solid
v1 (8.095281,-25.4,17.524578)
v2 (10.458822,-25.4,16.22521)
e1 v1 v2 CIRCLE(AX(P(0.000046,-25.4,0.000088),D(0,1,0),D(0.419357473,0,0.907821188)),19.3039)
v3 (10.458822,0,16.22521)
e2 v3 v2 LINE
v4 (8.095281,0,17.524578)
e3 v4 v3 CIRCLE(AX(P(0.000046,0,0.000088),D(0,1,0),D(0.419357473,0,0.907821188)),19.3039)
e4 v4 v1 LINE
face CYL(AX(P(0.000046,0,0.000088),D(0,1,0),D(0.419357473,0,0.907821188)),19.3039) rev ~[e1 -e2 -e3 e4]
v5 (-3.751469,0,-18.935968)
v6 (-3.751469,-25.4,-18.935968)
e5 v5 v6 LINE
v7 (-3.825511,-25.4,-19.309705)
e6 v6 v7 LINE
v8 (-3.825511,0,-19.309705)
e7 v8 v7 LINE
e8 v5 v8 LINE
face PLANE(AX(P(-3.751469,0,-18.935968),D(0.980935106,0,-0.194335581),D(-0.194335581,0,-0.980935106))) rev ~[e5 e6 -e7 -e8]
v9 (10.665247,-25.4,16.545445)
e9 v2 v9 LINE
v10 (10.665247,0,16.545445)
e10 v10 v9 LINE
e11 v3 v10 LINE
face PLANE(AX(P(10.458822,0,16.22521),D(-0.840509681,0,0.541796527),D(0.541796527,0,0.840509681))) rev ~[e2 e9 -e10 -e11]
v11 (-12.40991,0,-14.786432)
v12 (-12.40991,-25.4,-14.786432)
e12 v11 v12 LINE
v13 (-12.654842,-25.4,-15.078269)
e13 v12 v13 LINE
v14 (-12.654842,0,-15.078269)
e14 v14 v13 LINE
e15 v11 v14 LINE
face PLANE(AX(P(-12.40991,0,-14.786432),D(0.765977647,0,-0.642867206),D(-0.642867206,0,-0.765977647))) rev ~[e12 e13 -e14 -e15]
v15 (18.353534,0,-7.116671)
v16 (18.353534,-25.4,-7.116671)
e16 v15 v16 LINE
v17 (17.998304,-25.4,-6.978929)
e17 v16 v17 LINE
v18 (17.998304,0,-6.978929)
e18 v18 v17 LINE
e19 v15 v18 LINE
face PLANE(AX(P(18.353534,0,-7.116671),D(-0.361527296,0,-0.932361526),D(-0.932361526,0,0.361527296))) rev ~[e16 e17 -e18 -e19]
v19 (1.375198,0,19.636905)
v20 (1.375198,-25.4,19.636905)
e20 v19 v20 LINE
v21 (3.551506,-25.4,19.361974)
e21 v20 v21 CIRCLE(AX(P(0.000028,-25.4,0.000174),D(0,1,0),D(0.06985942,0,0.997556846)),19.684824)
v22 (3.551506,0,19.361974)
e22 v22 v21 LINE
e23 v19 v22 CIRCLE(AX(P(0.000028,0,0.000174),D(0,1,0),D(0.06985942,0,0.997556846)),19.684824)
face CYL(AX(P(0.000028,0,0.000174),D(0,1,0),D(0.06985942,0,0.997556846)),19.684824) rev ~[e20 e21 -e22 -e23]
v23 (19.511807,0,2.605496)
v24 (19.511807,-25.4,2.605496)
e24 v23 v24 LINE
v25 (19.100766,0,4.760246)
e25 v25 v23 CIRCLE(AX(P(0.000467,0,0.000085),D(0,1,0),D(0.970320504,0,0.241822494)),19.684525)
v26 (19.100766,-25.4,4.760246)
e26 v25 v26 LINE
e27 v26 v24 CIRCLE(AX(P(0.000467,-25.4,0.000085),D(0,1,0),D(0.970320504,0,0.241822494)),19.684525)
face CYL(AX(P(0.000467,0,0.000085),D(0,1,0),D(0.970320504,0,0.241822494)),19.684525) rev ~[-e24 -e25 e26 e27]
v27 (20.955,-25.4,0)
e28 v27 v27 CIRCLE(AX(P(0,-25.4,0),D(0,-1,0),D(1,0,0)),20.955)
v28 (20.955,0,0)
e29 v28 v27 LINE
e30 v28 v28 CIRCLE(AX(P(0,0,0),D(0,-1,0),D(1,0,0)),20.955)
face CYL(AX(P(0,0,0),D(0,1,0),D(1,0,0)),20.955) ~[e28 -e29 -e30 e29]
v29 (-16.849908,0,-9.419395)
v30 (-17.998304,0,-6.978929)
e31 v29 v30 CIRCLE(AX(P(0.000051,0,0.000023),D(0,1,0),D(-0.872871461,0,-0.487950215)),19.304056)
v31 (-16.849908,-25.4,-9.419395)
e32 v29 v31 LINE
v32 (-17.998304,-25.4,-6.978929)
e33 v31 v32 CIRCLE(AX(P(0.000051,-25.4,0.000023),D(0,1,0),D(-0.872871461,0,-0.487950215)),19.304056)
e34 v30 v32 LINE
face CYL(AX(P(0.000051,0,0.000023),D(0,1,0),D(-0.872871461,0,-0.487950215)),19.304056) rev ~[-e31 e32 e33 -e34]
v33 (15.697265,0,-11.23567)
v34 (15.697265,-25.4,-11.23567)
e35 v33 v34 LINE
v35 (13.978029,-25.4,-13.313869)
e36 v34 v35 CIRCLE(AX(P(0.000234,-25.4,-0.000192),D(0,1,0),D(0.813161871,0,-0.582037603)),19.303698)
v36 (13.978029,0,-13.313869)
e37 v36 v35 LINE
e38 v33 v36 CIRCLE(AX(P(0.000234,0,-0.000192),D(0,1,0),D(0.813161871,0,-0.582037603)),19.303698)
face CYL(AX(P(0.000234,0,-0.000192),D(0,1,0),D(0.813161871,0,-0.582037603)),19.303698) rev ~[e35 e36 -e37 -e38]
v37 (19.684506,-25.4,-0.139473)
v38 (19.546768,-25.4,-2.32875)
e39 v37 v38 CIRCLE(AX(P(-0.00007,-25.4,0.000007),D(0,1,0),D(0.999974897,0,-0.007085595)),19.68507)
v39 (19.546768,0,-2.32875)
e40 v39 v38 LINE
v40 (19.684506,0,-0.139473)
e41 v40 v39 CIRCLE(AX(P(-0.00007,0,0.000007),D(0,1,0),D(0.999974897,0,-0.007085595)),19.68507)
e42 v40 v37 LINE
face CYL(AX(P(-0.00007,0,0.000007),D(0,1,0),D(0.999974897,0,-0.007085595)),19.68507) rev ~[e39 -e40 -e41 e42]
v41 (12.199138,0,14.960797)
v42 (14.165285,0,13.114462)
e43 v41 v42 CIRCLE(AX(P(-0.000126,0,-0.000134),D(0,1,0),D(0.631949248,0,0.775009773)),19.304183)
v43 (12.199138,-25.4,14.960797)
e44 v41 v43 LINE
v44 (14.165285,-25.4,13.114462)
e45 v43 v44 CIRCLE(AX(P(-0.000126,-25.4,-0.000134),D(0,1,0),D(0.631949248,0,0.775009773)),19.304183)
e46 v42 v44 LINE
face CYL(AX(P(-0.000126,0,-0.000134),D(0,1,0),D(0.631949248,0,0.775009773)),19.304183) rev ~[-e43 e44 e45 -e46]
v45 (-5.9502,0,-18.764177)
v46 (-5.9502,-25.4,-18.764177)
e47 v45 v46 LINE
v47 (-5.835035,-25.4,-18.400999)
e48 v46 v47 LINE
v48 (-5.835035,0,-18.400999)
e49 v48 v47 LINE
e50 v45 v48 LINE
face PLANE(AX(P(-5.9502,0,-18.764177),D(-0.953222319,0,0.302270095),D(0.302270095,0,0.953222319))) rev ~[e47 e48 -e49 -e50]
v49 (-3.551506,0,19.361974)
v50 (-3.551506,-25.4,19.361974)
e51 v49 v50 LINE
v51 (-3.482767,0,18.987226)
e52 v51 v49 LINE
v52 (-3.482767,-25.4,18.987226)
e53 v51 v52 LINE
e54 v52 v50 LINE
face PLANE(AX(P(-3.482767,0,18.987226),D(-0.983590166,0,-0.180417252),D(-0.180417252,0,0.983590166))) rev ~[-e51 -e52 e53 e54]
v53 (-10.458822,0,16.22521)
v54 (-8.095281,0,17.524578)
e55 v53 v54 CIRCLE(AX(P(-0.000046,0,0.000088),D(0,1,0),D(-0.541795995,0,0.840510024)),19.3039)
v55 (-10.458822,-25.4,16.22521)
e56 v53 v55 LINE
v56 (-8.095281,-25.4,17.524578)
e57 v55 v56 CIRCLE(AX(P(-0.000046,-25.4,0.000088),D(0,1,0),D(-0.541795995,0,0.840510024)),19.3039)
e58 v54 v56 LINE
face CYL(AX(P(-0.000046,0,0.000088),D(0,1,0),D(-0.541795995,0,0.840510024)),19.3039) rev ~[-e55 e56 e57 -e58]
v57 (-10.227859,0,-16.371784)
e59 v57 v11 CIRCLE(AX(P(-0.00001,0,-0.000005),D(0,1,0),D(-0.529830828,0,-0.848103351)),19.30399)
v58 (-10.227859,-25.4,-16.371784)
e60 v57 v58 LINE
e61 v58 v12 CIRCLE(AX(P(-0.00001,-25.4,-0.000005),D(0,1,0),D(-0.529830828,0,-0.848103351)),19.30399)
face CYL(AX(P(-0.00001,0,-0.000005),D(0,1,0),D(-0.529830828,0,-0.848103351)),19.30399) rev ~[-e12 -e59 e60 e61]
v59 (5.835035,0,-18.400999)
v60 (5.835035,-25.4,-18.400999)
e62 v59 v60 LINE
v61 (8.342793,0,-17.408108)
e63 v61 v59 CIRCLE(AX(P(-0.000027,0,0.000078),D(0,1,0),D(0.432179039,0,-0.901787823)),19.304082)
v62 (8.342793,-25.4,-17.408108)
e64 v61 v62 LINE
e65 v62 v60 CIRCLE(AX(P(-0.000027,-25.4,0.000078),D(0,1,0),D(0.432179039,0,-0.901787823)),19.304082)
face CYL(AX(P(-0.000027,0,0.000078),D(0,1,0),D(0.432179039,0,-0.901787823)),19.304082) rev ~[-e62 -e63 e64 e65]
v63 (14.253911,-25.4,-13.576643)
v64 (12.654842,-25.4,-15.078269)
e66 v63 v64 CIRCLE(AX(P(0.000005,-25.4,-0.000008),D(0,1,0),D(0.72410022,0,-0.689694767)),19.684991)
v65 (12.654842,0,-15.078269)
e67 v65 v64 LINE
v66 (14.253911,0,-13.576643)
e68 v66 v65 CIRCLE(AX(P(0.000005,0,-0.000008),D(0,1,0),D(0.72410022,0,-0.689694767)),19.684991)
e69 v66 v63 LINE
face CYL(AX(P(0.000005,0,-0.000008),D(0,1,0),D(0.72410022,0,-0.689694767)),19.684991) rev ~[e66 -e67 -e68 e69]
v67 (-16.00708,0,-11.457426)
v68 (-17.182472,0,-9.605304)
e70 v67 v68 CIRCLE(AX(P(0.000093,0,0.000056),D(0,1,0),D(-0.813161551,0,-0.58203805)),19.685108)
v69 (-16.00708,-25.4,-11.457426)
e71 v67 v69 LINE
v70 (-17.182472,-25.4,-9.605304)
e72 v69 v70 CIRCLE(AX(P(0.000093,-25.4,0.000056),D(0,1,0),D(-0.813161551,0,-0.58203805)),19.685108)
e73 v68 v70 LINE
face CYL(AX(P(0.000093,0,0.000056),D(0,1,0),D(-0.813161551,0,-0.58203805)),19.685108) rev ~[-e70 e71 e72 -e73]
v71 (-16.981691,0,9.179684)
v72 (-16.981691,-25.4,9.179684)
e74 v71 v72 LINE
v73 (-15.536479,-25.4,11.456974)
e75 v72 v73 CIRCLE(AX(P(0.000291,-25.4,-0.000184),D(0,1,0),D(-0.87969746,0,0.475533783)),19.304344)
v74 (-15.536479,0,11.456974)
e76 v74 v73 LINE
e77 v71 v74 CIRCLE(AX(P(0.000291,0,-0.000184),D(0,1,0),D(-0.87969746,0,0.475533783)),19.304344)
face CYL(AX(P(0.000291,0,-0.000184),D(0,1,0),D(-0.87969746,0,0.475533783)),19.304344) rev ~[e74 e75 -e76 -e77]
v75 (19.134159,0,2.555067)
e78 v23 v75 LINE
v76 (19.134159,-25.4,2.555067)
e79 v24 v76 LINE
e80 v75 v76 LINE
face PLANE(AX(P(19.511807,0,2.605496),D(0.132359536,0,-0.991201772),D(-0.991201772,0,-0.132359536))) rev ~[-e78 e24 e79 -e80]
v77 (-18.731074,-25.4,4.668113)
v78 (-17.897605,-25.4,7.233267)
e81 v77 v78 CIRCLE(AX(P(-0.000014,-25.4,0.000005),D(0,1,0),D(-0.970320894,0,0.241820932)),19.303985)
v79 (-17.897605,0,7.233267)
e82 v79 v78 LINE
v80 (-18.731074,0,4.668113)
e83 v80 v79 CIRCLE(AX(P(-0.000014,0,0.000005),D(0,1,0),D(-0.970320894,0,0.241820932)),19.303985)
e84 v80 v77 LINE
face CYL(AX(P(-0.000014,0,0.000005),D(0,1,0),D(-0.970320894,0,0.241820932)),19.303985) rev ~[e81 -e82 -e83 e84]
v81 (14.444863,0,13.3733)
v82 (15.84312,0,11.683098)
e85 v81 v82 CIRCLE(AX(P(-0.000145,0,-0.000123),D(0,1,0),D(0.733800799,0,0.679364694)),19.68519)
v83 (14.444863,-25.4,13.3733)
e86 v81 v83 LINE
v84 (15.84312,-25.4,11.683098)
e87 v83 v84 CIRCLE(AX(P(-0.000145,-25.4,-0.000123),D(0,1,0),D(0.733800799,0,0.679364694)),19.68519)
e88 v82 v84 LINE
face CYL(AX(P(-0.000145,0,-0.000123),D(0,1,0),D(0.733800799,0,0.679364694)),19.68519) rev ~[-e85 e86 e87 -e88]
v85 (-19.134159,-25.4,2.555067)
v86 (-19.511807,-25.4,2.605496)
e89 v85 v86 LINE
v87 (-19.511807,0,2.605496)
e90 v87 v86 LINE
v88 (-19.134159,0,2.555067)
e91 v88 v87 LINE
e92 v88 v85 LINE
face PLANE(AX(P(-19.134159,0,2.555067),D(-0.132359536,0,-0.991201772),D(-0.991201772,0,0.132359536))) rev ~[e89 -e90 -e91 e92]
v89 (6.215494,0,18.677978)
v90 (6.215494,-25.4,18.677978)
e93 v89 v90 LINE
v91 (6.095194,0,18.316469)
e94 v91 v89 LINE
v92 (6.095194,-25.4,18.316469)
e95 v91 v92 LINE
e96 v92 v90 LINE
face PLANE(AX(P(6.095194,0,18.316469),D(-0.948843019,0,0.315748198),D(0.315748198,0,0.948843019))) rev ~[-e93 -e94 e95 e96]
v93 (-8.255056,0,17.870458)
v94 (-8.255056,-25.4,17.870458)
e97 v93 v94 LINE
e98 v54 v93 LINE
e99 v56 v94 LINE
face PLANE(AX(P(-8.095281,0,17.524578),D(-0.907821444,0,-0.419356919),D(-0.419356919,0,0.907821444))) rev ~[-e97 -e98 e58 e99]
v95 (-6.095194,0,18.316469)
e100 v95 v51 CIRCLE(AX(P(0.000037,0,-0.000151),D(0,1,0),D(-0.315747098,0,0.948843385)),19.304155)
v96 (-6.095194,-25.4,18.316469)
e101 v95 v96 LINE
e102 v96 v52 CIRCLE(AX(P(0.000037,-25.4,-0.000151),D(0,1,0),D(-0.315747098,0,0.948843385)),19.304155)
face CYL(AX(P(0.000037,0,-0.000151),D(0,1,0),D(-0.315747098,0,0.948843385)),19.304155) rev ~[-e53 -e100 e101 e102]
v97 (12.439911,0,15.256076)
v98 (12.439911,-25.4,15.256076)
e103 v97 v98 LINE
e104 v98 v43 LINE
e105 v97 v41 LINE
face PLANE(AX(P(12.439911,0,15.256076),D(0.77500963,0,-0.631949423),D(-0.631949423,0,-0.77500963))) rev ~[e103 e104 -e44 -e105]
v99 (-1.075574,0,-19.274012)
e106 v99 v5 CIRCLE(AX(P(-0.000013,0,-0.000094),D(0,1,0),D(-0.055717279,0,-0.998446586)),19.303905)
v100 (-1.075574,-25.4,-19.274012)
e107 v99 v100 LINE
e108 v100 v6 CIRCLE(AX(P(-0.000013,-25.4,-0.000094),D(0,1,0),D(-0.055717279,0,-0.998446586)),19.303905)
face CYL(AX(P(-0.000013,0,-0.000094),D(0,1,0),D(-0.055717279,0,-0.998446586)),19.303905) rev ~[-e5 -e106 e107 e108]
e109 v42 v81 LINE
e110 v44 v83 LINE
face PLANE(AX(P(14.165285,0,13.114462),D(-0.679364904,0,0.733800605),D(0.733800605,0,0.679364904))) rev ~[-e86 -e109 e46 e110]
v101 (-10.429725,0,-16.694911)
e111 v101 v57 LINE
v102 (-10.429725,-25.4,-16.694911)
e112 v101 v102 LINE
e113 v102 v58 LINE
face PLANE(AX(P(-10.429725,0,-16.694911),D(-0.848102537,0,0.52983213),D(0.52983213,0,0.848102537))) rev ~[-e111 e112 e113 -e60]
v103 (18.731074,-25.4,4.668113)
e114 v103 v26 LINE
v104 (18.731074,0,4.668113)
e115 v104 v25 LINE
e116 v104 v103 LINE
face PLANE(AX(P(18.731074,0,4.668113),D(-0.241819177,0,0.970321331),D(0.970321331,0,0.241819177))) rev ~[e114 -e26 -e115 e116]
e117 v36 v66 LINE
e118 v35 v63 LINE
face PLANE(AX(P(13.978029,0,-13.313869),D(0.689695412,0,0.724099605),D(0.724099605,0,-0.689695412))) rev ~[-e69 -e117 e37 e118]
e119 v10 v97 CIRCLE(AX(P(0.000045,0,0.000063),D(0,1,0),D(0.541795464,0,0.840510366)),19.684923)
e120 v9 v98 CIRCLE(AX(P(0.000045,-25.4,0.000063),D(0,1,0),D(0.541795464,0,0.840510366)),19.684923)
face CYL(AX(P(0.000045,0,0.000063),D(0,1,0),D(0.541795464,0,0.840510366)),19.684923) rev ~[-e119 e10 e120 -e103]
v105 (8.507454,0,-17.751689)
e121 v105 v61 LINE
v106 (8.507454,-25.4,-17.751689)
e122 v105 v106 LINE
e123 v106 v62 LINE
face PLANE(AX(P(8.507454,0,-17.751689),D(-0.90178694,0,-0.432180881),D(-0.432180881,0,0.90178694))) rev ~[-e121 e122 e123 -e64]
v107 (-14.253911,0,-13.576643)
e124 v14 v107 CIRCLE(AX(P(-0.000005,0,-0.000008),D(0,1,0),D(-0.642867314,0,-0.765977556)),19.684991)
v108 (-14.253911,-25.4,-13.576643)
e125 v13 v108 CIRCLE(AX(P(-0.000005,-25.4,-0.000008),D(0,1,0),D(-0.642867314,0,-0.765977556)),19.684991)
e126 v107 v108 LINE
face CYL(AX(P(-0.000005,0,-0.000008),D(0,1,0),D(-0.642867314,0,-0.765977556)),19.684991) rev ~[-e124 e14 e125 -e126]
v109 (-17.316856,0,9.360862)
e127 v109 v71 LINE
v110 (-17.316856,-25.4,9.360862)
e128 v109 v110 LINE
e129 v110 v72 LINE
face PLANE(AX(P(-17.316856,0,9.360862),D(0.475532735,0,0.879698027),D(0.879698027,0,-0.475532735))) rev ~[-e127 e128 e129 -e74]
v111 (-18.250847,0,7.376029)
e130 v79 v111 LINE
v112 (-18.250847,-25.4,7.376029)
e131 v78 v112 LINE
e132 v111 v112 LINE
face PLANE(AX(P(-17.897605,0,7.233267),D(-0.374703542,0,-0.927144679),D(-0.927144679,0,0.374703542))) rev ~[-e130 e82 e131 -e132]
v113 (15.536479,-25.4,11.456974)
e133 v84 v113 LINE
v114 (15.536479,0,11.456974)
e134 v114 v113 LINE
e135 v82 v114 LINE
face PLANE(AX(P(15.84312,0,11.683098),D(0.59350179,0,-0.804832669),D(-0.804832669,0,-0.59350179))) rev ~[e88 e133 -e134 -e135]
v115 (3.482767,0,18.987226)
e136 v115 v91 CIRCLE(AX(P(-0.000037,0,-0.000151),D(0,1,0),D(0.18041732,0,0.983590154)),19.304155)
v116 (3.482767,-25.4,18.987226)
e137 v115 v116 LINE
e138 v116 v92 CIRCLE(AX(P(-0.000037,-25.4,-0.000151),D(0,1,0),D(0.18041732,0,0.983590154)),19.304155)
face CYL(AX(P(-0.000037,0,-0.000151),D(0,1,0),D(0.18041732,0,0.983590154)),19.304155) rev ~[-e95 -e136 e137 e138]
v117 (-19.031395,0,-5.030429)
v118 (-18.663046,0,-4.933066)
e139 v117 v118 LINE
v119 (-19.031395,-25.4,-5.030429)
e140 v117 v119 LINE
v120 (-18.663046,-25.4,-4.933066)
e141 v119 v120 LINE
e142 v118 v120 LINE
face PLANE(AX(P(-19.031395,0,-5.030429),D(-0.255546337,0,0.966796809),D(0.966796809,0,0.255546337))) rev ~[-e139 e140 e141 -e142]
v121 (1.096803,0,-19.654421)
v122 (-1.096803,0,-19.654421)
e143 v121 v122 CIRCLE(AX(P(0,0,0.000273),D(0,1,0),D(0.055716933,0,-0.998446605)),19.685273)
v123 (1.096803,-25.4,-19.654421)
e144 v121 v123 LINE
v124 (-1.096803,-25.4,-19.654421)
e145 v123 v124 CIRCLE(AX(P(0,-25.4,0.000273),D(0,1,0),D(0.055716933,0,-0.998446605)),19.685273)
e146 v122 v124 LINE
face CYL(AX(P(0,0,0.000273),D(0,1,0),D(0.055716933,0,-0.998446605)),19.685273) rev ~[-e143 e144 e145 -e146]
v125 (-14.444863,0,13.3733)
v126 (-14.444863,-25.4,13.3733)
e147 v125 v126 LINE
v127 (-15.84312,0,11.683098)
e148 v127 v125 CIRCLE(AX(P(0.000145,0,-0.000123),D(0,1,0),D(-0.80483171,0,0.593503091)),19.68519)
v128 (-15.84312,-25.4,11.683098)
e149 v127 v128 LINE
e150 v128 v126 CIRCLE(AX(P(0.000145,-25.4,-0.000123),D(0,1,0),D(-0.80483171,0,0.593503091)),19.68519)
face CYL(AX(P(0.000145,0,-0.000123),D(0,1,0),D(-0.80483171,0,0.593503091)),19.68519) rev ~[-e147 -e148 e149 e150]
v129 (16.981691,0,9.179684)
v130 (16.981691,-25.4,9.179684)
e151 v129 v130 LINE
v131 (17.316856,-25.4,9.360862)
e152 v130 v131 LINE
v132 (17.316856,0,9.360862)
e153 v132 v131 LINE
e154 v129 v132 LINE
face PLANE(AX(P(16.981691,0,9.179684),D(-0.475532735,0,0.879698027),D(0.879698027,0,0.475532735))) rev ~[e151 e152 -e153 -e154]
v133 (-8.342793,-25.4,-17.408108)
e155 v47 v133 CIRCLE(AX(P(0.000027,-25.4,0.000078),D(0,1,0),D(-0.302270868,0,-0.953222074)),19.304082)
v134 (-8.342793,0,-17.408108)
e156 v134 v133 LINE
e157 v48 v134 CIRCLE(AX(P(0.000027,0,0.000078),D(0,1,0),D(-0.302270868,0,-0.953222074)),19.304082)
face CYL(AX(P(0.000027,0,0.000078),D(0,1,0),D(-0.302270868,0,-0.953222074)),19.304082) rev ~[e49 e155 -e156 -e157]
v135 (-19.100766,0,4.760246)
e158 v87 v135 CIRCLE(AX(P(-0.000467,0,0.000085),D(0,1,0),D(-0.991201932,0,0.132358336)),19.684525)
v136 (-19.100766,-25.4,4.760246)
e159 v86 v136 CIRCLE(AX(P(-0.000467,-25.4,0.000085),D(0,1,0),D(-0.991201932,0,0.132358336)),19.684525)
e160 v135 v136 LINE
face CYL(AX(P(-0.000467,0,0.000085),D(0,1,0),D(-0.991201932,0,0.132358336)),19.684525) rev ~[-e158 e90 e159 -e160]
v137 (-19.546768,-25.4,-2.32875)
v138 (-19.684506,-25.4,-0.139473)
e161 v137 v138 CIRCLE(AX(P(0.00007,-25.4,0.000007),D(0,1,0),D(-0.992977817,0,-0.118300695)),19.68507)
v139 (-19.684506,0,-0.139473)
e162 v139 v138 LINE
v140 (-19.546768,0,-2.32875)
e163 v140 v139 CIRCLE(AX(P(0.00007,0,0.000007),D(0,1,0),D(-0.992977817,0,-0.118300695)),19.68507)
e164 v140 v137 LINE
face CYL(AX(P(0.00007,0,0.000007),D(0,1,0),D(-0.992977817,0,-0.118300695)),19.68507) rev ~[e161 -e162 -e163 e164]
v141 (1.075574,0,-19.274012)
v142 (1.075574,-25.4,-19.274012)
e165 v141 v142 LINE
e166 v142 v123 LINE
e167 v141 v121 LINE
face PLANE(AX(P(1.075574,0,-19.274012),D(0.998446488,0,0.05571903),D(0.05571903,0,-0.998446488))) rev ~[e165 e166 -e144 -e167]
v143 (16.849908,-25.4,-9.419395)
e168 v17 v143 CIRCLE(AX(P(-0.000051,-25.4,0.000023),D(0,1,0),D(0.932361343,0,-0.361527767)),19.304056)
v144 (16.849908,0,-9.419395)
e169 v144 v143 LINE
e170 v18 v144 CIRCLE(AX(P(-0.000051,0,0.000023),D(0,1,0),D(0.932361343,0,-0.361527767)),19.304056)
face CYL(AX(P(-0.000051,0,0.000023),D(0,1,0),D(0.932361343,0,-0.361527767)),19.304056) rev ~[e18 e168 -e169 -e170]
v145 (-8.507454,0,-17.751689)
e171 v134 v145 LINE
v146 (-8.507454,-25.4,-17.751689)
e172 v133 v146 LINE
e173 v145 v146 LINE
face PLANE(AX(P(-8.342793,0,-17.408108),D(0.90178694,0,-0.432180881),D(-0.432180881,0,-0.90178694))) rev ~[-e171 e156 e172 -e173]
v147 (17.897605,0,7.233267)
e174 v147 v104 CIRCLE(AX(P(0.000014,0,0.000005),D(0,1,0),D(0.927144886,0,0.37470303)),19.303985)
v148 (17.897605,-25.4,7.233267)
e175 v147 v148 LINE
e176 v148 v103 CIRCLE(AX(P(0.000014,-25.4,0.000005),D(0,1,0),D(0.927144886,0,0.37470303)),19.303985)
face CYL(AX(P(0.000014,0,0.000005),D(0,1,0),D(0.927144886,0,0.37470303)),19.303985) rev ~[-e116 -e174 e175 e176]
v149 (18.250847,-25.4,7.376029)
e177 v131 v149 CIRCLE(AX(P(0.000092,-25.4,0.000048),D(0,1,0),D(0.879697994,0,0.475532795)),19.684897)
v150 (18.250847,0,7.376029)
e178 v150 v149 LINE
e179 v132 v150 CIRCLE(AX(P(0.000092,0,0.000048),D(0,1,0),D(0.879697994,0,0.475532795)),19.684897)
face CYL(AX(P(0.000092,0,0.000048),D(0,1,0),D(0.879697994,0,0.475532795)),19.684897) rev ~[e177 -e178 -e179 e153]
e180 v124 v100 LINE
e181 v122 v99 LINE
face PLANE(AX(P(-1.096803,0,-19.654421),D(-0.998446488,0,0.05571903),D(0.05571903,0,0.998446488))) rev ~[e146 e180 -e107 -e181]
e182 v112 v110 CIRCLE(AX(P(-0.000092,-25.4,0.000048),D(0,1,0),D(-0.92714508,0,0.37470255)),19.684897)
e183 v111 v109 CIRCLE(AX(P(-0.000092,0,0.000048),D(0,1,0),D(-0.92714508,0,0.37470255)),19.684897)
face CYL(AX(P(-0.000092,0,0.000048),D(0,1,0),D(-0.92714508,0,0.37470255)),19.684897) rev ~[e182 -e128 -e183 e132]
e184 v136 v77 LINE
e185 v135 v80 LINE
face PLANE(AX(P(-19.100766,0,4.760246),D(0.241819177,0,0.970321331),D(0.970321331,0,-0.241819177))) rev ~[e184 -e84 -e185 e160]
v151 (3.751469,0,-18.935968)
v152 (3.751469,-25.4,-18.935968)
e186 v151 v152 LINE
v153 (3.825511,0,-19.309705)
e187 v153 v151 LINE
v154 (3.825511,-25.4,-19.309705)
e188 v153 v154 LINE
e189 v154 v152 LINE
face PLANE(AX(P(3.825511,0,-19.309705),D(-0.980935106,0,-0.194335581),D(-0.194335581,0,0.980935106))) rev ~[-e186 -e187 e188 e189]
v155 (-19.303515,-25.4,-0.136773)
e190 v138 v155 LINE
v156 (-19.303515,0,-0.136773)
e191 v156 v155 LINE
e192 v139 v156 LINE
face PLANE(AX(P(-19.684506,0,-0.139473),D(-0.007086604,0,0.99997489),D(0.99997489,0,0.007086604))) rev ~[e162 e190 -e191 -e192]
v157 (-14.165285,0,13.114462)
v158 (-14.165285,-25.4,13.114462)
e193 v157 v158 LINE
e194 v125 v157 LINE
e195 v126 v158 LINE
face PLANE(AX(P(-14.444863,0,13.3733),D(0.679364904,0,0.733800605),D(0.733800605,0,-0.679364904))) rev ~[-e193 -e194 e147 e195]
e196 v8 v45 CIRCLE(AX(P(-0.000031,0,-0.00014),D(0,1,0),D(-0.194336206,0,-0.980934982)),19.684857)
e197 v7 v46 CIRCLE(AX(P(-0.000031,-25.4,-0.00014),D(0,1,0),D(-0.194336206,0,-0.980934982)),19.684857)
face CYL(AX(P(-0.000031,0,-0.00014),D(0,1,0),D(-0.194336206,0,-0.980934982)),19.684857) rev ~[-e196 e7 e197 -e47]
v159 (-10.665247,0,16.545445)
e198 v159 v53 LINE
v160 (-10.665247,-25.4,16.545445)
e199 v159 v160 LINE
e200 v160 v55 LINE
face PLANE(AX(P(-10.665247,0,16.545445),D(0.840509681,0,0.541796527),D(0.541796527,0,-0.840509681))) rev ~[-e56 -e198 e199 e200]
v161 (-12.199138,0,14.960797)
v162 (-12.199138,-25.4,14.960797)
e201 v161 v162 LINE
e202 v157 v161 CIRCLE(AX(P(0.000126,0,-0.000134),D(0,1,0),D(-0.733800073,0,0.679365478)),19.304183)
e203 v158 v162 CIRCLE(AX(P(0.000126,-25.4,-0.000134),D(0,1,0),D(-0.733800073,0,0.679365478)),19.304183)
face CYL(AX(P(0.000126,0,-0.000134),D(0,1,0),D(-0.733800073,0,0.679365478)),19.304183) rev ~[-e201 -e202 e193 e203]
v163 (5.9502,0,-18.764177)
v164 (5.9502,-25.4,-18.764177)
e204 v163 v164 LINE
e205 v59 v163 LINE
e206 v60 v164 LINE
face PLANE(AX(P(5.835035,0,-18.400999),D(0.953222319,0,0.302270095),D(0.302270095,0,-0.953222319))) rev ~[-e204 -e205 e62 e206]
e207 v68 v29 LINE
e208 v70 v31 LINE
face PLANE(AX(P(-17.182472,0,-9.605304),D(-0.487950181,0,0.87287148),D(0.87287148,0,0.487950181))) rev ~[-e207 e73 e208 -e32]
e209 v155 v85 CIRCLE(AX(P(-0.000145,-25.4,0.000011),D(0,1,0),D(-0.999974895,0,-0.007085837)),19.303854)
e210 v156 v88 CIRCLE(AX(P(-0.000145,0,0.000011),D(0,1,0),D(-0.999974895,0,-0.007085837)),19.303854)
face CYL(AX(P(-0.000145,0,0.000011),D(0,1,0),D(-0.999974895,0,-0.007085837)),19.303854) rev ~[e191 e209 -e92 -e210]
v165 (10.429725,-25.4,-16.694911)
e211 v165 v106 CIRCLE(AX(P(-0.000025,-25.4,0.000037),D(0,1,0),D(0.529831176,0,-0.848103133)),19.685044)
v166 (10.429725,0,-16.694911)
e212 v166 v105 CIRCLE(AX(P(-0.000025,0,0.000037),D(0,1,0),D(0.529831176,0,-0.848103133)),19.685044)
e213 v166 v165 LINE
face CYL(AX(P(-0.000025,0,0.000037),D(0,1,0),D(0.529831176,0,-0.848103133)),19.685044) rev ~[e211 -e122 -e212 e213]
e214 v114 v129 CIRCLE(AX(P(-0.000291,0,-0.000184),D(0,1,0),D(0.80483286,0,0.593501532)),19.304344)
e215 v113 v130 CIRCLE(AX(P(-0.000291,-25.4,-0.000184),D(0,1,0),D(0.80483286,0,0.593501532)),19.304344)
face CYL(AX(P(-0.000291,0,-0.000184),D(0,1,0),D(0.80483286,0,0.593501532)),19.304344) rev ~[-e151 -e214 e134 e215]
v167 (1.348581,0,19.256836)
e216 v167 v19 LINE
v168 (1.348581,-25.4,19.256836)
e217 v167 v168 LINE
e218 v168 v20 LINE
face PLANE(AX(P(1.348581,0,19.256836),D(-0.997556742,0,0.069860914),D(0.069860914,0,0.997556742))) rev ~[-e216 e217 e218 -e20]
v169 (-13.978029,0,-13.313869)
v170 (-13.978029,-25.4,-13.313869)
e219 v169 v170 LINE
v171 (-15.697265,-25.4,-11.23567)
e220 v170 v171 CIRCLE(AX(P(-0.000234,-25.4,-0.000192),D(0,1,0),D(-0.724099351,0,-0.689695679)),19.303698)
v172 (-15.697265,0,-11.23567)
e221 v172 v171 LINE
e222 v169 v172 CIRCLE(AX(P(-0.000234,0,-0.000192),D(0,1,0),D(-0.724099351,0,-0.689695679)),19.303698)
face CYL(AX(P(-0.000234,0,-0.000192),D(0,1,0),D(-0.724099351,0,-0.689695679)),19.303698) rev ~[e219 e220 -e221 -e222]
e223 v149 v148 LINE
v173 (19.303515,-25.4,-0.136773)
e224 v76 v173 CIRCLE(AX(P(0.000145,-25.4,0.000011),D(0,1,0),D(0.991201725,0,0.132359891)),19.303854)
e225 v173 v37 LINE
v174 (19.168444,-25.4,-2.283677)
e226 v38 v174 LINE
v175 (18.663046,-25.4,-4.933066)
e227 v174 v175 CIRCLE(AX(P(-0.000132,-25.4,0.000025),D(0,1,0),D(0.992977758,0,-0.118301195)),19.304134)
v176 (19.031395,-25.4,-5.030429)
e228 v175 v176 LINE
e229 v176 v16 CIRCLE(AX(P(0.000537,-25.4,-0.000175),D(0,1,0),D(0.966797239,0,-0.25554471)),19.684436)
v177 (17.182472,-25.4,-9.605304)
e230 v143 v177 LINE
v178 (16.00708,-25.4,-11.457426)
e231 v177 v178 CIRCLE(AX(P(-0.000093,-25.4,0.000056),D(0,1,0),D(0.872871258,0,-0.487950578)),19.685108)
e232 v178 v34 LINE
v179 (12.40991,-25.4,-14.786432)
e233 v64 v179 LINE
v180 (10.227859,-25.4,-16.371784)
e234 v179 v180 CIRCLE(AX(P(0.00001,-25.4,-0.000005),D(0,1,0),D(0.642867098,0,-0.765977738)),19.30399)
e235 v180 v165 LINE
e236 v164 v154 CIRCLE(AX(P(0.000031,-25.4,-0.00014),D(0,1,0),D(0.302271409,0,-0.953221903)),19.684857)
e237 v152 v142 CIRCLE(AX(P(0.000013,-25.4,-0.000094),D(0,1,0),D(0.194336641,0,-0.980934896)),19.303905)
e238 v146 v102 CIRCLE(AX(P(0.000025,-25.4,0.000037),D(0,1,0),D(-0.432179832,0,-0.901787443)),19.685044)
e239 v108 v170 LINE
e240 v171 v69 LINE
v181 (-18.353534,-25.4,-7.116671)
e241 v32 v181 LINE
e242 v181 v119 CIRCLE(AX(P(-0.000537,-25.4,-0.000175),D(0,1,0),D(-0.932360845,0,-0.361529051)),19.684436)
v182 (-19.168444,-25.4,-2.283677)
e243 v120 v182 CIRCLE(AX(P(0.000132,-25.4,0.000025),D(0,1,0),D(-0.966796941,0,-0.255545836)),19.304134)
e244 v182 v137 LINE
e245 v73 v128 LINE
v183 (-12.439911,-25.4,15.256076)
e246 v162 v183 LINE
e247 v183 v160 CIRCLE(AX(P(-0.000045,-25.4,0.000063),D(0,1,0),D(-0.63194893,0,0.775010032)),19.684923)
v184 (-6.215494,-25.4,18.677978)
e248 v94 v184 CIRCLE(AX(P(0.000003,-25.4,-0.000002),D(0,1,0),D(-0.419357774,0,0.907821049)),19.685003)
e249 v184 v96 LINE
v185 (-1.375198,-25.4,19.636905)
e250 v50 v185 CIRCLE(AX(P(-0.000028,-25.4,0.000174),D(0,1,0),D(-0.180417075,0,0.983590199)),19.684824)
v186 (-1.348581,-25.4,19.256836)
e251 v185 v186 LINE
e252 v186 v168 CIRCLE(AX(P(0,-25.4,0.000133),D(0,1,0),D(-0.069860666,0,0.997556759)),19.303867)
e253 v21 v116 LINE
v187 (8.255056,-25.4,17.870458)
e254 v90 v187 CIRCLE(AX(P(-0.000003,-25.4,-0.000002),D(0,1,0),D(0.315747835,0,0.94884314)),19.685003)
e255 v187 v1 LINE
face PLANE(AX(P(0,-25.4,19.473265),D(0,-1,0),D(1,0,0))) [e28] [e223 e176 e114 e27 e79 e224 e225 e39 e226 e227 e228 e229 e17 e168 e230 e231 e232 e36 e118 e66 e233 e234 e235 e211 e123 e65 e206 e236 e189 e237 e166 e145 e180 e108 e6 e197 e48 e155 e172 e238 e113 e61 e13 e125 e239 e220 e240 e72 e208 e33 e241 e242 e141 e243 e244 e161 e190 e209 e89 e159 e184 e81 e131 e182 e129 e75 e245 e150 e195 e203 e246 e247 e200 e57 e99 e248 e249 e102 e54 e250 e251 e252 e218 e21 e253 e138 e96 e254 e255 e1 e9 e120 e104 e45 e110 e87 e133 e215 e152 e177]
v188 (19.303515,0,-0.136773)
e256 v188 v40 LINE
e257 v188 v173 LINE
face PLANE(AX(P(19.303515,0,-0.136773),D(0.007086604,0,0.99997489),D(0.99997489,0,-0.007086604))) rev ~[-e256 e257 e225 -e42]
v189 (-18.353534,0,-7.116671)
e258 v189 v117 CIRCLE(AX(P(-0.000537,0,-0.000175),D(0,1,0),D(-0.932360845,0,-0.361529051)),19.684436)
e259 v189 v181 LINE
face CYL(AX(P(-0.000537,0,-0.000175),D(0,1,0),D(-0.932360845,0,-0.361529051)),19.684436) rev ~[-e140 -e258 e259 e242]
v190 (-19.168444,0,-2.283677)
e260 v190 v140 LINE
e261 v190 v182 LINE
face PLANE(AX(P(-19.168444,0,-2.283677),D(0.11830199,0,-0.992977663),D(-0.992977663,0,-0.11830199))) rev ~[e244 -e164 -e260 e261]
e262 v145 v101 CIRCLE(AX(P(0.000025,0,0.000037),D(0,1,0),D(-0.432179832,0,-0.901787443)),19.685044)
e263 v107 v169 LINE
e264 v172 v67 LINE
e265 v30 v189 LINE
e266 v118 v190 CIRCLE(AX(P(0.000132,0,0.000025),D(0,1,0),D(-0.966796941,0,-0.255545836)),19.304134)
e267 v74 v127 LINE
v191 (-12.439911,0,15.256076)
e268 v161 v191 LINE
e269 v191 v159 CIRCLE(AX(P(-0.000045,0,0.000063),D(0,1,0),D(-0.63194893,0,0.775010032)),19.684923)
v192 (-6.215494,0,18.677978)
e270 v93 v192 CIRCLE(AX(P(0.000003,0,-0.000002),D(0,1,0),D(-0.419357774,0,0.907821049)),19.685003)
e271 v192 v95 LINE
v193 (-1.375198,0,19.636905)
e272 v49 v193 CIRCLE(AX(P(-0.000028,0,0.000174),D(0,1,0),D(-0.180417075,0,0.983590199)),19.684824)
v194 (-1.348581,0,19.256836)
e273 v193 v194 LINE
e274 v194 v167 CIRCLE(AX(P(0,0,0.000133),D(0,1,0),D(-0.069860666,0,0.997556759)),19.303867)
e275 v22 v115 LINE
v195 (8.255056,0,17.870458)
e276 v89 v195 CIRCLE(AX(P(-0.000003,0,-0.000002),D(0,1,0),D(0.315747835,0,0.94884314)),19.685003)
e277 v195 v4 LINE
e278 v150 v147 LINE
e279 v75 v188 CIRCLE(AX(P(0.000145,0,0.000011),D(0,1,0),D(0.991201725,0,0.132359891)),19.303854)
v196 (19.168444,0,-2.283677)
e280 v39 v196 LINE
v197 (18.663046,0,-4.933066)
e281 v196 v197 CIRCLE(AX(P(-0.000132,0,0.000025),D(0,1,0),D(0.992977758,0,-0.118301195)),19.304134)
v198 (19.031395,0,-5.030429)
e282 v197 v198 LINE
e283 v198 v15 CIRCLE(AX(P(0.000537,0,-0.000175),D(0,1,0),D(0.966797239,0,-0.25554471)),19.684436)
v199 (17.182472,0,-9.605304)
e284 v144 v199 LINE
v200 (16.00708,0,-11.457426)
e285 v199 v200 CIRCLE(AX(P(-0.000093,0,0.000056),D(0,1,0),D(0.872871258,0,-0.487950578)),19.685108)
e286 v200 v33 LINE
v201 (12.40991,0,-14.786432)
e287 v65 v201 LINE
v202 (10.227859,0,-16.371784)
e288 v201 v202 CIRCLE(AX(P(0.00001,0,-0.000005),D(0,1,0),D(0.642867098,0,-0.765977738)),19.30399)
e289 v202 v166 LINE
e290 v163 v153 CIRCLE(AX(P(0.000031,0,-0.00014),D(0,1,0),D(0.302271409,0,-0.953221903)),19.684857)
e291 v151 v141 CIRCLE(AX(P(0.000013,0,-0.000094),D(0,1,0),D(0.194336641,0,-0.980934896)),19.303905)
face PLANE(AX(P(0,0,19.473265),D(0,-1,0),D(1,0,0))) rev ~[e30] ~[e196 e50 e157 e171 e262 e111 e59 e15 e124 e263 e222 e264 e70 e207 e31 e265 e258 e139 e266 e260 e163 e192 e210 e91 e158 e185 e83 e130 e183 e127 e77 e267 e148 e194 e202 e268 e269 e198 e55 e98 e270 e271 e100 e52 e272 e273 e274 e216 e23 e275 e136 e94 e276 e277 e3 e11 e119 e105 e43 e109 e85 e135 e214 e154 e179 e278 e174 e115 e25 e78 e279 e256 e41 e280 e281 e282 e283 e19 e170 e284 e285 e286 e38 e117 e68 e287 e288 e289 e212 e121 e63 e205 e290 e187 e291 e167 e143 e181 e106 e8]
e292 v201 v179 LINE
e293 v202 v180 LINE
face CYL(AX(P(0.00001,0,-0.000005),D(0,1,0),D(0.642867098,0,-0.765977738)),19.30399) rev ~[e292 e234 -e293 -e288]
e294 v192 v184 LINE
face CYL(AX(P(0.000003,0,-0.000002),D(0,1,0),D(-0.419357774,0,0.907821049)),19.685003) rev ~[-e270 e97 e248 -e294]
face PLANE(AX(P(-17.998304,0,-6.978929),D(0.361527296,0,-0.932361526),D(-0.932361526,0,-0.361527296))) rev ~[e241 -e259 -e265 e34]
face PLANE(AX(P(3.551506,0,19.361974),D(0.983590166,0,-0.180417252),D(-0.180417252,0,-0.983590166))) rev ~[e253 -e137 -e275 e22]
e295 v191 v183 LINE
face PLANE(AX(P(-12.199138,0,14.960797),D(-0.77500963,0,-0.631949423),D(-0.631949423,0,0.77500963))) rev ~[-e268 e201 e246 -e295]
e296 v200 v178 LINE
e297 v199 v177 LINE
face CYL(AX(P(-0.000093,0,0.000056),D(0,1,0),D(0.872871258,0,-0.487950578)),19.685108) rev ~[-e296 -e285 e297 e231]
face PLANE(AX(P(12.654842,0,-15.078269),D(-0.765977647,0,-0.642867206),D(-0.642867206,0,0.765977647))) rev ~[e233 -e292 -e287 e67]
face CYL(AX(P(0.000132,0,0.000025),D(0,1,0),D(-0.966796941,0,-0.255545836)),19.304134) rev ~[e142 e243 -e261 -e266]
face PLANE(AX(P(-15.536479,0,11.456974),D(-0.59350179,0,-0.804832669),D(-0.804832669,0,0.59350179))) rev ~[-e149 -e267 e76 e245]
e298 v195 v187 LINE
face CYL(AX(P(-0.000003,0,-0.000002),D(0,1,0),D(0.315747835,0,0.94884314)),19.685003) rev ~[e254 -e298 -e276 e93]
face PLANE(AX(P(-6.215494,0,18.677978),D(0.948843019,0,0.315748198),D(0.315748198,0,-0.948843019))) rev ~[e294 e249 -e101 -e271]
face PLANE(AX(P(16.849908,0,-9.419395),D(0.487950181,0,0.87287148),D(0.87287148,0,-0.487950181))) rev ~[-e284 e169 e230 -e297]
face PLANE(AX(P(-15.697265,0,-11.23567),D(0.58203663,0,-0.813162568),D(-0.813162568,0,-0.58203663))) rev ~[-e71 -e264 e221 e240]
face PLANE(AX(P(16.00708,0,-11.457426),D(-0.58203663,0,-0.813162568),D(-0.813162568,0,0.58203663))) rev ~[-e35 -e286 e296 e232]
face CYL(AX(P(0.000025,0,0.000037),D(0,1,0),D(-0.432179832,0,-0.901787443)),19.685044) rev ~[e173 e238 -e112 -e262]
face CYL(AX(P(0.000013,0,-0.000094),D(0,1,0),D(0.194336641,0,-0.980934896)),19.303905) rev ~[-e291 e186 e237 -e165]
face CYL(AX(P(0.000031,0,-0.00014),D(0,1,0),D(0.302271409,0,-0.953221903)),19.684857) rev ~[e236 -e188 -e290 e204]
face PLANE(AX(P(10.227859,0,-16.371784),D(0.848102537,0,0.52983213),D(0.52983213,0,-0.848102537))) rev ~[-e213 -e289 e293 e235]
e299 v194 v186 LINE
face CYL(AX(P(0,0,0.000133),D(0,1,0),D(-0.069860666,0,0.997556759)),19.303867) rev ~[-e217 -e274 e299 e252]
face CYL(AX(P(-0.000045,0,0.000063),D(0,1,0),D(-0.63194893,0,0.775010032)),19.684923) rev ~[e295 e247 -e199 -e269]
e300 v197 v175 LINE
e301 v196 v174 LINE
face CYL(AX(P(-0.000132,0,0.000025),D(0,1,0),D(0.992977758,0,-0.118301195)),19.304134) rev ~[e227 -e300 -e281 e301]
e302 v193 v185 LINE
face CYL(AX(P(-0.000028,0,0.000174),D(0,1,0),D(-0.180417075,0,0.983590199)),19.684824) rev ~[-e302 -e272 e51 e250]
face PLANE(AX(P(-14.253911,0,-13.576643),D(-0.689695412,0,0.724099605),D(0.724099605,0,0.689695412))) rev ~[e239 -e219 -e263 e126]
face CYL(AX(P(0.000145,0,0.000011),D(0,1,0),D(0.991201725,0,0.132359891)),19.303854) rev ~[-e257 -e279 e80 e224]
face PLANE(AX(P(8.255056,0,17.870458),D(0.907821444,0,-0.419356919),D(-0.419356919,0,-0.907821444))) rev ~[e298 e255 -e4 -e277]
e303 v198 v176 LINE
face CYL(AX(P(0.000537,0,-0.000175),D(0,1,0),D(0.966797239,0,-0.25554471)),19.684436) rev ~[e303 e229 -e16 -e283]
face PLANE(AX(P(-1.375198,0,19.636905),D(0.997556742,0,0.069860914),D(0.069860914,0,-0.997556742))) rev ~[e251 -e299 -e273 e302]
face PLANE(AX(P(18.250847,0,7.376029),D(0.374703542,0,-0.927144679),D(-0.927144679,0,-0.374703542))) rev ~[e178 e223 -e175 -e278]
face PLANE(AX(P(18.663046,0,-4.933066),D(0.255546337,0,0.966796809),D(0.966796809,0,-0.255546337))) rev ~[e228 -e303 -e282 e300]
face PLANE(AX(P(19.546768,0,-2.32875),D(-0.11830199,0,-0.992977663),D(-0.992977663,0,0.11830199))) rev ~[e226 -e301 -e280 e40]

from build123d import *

# Parameters (mm, degrees)
F0_R     = 20.955
F1_DEPTH = 25.4
F2_DEPTH = 25.4


with BuildPart() as f1:
    # F0 (on Front) → F1 (new body)
    with BuildSketch(Plane.XZ):
        Circle(F0_R)
        with BuildLine():
            ThreePointArc((-1.375198, 19.636905), (0, 19.685), (1.375198, 19.636905))
            ThreePointArc((1.375198, 19.636905), (2.467185, 19.529778), (3.551506, 19.361974))
            ThreePointArc((3.551506, 19.361974), (4.89546, 19.06656), (6.215494, 18.677978))
            ThreePointArc((6.215494, 18.677978), (7.246532, 18.30265), (8.255056, 17.870458))
            ThreePointArc((8.255056, 17.870458), (9.483321, 17.250097), (10.665247, 16.545445))
            ThreePointArc((10.665247, 16.545445), (11.570553, 15.9255), (12.439911, 15.256076))
            ThreePointArc((12.439911, 15.256076), (13.47531, 14.349747), (14.444863, 13.3733))
            ThreePointArc((14.444863, 13.3733), (15.167553, 12.547691), (15.84312, 11.683098))
            ThreePointArc((15.84312, 11.683098), (16.620595, 10.54775), (17.316856, 9.360862))
            ThreePointArc((17.316856, 9.360862), (17.811521, 8.381465), (18.250847, 7.376029))
            ThreePointArc((18.250847, 7.376029), (18.721548, 6.083), (19.100766, 4.760246))
            ThreePointArc((19.100766, 4.760246), (19.336325, 3.688601), (19.511807, 2.605496))
            ThreePointArc((19.511807, 2.605496), (19.641654, 1.305623), (19.685, 0))
            ThreePointArc((19.685, 0), (19.684876, -0.069737), (19.684506, -0.139473))
            ThreePointArc((19.684506, -0.139473), (19.646156, -1.236031), (19.546768, -2.32875))
            ThreePointArc((19.546768, -2.32875), (19.336325, -3.688601), (19.031395, -5.030429))
            ThreePointArc((19.031395, -5.030429), (18.721548, -6.083), (18.353534, -7.116671))
            ThreePointArc((18.353534, -7.116671), (17.811521, -8.381465), (17.182472, -9.605304))
            ThreePointArc((17.182472, -9.605304), (16.620595, -10.54775), (16.00708, -11.457426))
            ThreePointArc((16.00708, -11.457426), (15.167553, -12.547691), (14.253911, -13.576643))
            ThreePointArc((14.253911, -13.576643), (13.47531, -14.349747), (12.654842, -15.078269))
            ThreePointArc((12.654842, -15.078269), (11.570553, -15.9255), (10.429725, -16.694911))
            ThreePointArc((10.429725, -16.694911), (9.483321, -17.250097), (8.507454, -17.751689))
            ThreePointArc((8.507454, -17.751689), (7.246532, -18.30265), (5.9502, -18.764177))
            ThreePointArc((5.9502, -18.764177), (4.89546, -19.06656), (3.825511, -19.309705))
            ThreePointArc((3.825511, -19.309705), (2.467185, -19.529778), (1.096803, -19.654421))
            ThreePointArc((1.096803, -19.654421), (0, -19.685), (-1.096803, -19.654421))
            ThreePointArc((-1.096803, -19.654421), (-2.467185, -19.529778), (-3.825511, -19.309705))
            ThreePointArc((-3.825511, -19.309705), (-4.89546, -19.06656), (-5.9502, -18.764177))
            ThreePointArc((-5.9502, -18.764177), (-7.246532, -18.30265), (-8.507454, -17.751689))
            ThreePointArc((-8.507454, -17.751689), (-9.483321, -17.250097), (-10.429725, -16.694911))
            ThreePointArc((-10.429725, -16.694911), (-11.570553, -15.9255), (-12.654842, -15.078269))
            ThreePointArc((-12.654842, -15.078269), (-13.47531, -14.349747), (-14.253911, -13.576643))
            ThreePointArc((-14.253911, -13.576643), (-15.167553, -12.547691), (-16.00708, -11.457426))
            ThreePointArc((-16.00708, -11.457426), (-16.620595, -10.54775), (-17.182472, -9.605304))
            ThreePointArc((-17.182472, -9.605304), (-17.811521, -8.381465), (-18.353534, -7.116671))
            ThreePointArc((-18.353534, -7.116671), (-18.721548, -6.083), (-19.031395, -5.030429))
            ThreePointArc((-19.031395, -5.030429), (-19.336325, -3.688601), (-19.546768, -2.32875))
            ThreePointArc((-19.546768, -2.32875), (-19.646156, -1.236031), (-19.684506, -0.139473))
            ThreePointArc((-19.684506, -0.139473), (-19.646156, 1.236031), (-19.511807, 2.605496))
            ThreePointArc((-19.511807, 2.605496), (-19.336325, 3.688601), (-19.100766, 4.760246))
            ThreePointArc((-19.100766, 4.760246), (-18.721548, 6.083), (-18.250847, 7.376029))
            ThreePointArc((-18.250847, 7.376029), (-17.811521, 8.381465), (-17.316856, 9.360862))
            ThreePointArc((-17.316856, 9.360862), (-16.620595, 10.54775), (-15.84312, 11.683098))
            ThreePointArc((-15.84312, 11.683098), (-15.167553, 12.547691), (-14.444863, 13.3733))
            ThreePointArc((-14.444863, 13.3733), (-13.47531, 14.349747), (-12.439911, 15.256076))
            ThreePointArc((-12.439911, 15.256076), (-11.570553, 15.9255), (-10.665247, 16.545445))
            ThreePointArc((-10.665247, 16.545445), (-9.483321, 17.250097), (-8.255056, 17.870458))
            ThreePointArc((-8.255056, 17.870458), (-7.246532, 18.30265), (-6.215494, 18.677978))
            ThreePointArc((-6.215494, 18.677978), (-4.89546, 19.06656), (-3.551506, 19.361974))
            ThreePointArc((-3.551506, 19.361974), (-2.467185, 19.529778), (-1.375198, 19.636905))
        make_face(mode=Mode.SUBTRACT)
    extrude(amount=F1_DEPTH)

    # F0 (on Front) → F2 (join)
    with BuildSketch(Plane.XZ):
        with BuildLine():
            Line((1.348581, 19.256836), (1.375198, 19.636905))
            ThreePointArc((1.375198, 19.636905), (0, 19.685), (-1.375198, 19.636905))
            Line((-1.375198, 19.636905), (-1.348581, 19.256836))
            ThreePointArc((-1.348581, 19.256836), (0, 19.304), (1.348581, 19.256836))
        make_face()
        with BuildLine():
            Line((-3.482767, 18.987226), (-3.551506, 19.361974))
            ThreePointArc((-3.551506, 19.361974), (-4.89546, 19.06656), (-6.215494, 18.677978))
            Line((-6.215494, 18.677978), (-6.095194, 18.316469))
            ThreePointArc((-6.095194, 18.316469), (-4.80071, 18.697529), (-3.482767, 18.987226))
        make_face()
        with BuildLine():
            Line((-8.095281, 17.524578), (-8.255056, 17.870458))
            ThreePointArc((-8.255056, 17.870458), (-9.483321, 17.250097), (-10.665247, 16.545445))
            Line((-10.665247, 16.545445), (-10.458822, 16.22521))
            ThreePointArc((-10.458822, 16.22521), (-9.299773, 16.916224), (-8.095281, 17.524578))
        make_face()
        with BuildLine():
            Line((-12.199138, 14.960797), (-12.439911, 15.256076))
            ThreePointArc((-12.439911, 15.256076), (-13.47531, 14.349747), (-14.444863, 13.3733))
            Line((-14.444863, 13.3733), (-14.165285, 13.114462))
            ThreePointArc((-14.165285, 13.114462), (-13.214497, 14.07201), (-12.199138, 14.960797))
        make_face()
        with BuildLine():
            Line((-15.536479, 11.456974), (-15.84312, 11.683098))
            ThreePointArc((-15.84312, 11.683098), (-16.620595, 10.54775), (-17.316856, 9.360862))
            Line((-17.316856, 9.360862), (-16.981691, 9.179684))
            ThreePointArc((-16.981691, 9.179684), (-16.298906, 10.3436), (-15.536479, 11.456974))
        make_face()
        with BuildLine():
            Line((-17.897605, 7.233267), (-18.250847, 7.376029))
            ThreePointArc((-18.250847, 7.376029), (-18.721548, 6.083), (-19.100766, 4.760246))
            Line((-19.100766, 4.760246), (-18.731074, 4.668113))
            ThreePointArc((-18.731074, 4.668113), (-18.359195, 5.965264), (-17.897605, 7.233267))
        make_face()
        with BuildLine():
            Line((-19.134159, 2.555067), (-19.511807, 2.605496))
            ThreePointArc((-19.511807, 2.605496), (-19.646156, 1.236031), (-19.684506, -0.139473))
            Line((-19.684506, -0.139473), (-19.303515, -0.136773))
            ThreePointArc((-19.303515, -0.136773), (-19.265908, 1.212108), (-19.134159, 2.555067))
        make_face()
        with BuildLine():
            Line((-19.168444, -2.283677), (-19.546768, -2.32875))
            ThreePointArc((-19.546768, -2.32875), (-19.336325, -3.688601), (-19.031395, -5.030429))
            Line((-19.031395, -5.030429), (-18.663046, -4.933066))
            ThreePointArc((-18.663046, -4.933066), (-18.962073, -3.617209), (-19.168444, -2.283677))
        make_face()
        with BuildLine():
            Line((-17.998304, -6.978929), (-18.353534, -7.116671))
            ThreePointArc((-18.353534, -7.116671), (-17.811521, -8.381465), (-17.182472, -9.605304))
            Line((-17.182472, -9.605304), (-16.849908, -9.419395))
            ThreePointArc((-16.849908, -9.419395), (-17.466781, -8.219243), (-17.998304, -6.978929))
        make_face()
        with BuildLine():
            Line((-15.697265, -11.23567), (-16.00708, -11.457426))
            ThreePointArc((-16.00708, -11.457426), (-15.167553, -12.547691), (-14.253911, -13.576643))
            Line((-14.253911, -13.576643), (-13.978029, -13.313869))
            ThreePointArc((-13.978029, -13.313869), (-14.873988, -12.304833), (-15.697265, -11.23567))
        make_face()
        with BuildLine():
            Line((-12.40991, -14.786432), (-12.654842, -15.078269))
            ThreePointArc((-12.654842, -15.078269), (-11.570553, -15.9255), (-10.429725, -16.694911))
            Line((-10.429725, -16.694911), (-10.227859, -16.371784))
            ThreePointArc((-10.227859, -16.371784), (-11.346607, -15.617264), (-12.40991, -14.786432))
        make_face()
        with BuildLine():
            Line((-8.342793, -17.408108), (-8.507454, -17.751689))
            ThreePointArc((-8.507454, -17.751689), (-7.246532, -18.30265), (-5.9502, -18.764177))
            Line((-5.9502, -18.764177), (-5.835035, -18.400999))
            ThreePointArc((-5.835035, -18.400999), (-7.106276, -17.948405), (-8.342793, -17.408108))
        make_face()
        with BuildLine():
            Line((-3.751469, -18.935968), (-3.825511, -19.309705))
            ThreePointArc((-3.825511, -19.309705), (-2.467185, -19.529778), (-1.096803, -19.654421))
            Line((-1.096803, -19.654421), (-1.075574, -19.274012))
            ThreePointArc((-1.075574, -19.274012), (-2.419433, -19.151782), (-3.751469, -18.935968))
        make_face()
        with BuildLine():
            ThreePointArc((1.096803, -19.654421), (2.467185, -19.529778), (3.825511, -19.309705))
            Line((3.825511, -19.309705), (3.751469, -18.935968))
            ThreePointArc((3.751469, -18.935968), (2.419433, -19.151782), (1.075574, -19.274012))
            Line((1.075574, -19.274012), (1.096803, -19.654421))
        make_face()
        with BuildLine():
            ThreePointArc((5.9502, -18.764177), (7.246532, -18.30265), (8.507454, -17.751689))
            Line((8.507454, -17.751689), (8.342793, -17.408108))
            ThreePointArc((8.342793, -17.408108), (7.106276, -17.948405), (5.835035, -18.400999))
            Line((5.835035, -18.400999), (5.9502, -18.764177))
        make_face()
        with BuildLine():
            ThreePointArc((10.429725, -16.694911), (11.570553, -15.9255), (12.654842, -15.078269))
            Line((12.654842, -15.078269), (12.40991, -14.786432))
            ThreePointArc((12.40991, -14.786432), (11.346607, -15.617264), (10.227859, -16.371784))
            Line((10.227859, -16.371784), (10.429725, -16.694911))
        make_face()
        with BuildLine():
            ThreePointArc((14.253911, -13.576643), (15.167553, -12.547691), (16.00708, -11.457426))
            Line((16.00708, -11.457426), (15.697265, -11.23567))
            ThreePointArc((15.697265, -11.23567), (14.873988, -12.304833), (13.978029, -13.313869))
            Line((13.978029, -13.313869), (14.253911, -13.576643))
        make_face()
        with BuildLine():
            ThreePointArc((17.182472, -9.605304), (17.811521, -8.381465), (18.353534, -7.116671))
            Line((18.353534, -7.116671), (17.998304, -6.978929))
            ThreePointArc((17.998304, -6.978929), (17.466781, -8.219243), (16.849908, -9.419395))
            Line((16.849908, -9.419395), (17.182472, -9.605304))
        make_face()
        with BuildLine():
            ThreePointArc((19.031395, -5.030429), (19.336325, -3.688601), (19.546768, -2.32875))
            Line((19.546768, -2.32875), (19.168444, -2.283677))
            ThreePointArc((19.168444, -2.283677), (18.962073, -3.617209), (18.663046, -4.933066))
            Line((18.663046, -4.933066), (19.031395, -5.030429))
        make_face()
        with BuildLine():
            ThreePointArc((19.685, 0), (19.641654, 1.305623), (19.511807, 2.605496))
            Line((19.511807, 2.605496), (19.134159, 2.555067))
            ThreePointArc((19.134159, 2.555067), (19.265908, 1.212108), (19.303515, -0.136773))
            Line((19.303515, -0.136773), (19.684506, -0.139473))
            ThreePointArc((19.684506, -0.139473), (19.684876, -0.069737), (19.685, 0))
        make_face()
        with BuildLine():
            ThreePointArc((19.100766, 4.760246), (18.721548, 6.083), (18.250847, 7.376029))
            Line((18.250847, 7.376029), (17.897605, 7.233267))
            ThreePointArc((17.897605, 7.233267), (18.359195, 5.965264), (18.731074, 4.668113))
            Line((18.731074, 4.668113), (19.100766, 4.760246))
        make_face()
        with BuildLine():
            ThreePointArc((17.316856, 9.360862), (16.620595, 10.54775), (15.84312, 11.683098))
            Line((15.84312, 11.683098), (15.536479, 11.456974))
            ThreePointArc((15.536479, 11.456974), (16.298906, 10.3436), (16.981691, 9.179684))
            Line((16.981691, 9.179684), (17.316856, 9.360862))
        make_face()
        with BuildLine():
            ThreePointArc((14.444863, 13.3733), (13.47531, 14.349747), (12.439911, 15.256076))
            Line((12.439911, 15.256076), (12.199138, 14.960797))
            ThreePointArc((12.199138, 14.960797), (13.214497, 14.07201), (14.165285, 13.114462))
            Line((14.165285, 13.114462), (14.444863, 13.3733))
        make_face()
        with BuildLine():
            ThreePointArc((10.665247, 16.545445), (9.483321, 17.250097), (8.255056, 17.870458))
            Line((8.255056, 17.870458), (8.095281, 17.524578))
            ThreePointArc((8.095281, 17.524578), (9.299773, 16.916224), (10.458822, 16.22521))
            Line((10.458822, 16.22521), (10.665247, 16.545445))
        make_face()
        with BuildLine():
            ThreePointArc((6.215494, 18.677978), (4.89546, 19.06656), (3.551506, 19.361974))
            Line((3.551506, 19.361974), (3.482767, 18.987226))
            ThreePointArc((3.482767, 18.987226), (4.80071, 18.697529), (6.095194, 18.316469))
            Line((6.095194, 18.316469), (6.215494, 18.677978))
        make_face()
    extrude(amount=F2_DEPTH)


solid = f1.part
